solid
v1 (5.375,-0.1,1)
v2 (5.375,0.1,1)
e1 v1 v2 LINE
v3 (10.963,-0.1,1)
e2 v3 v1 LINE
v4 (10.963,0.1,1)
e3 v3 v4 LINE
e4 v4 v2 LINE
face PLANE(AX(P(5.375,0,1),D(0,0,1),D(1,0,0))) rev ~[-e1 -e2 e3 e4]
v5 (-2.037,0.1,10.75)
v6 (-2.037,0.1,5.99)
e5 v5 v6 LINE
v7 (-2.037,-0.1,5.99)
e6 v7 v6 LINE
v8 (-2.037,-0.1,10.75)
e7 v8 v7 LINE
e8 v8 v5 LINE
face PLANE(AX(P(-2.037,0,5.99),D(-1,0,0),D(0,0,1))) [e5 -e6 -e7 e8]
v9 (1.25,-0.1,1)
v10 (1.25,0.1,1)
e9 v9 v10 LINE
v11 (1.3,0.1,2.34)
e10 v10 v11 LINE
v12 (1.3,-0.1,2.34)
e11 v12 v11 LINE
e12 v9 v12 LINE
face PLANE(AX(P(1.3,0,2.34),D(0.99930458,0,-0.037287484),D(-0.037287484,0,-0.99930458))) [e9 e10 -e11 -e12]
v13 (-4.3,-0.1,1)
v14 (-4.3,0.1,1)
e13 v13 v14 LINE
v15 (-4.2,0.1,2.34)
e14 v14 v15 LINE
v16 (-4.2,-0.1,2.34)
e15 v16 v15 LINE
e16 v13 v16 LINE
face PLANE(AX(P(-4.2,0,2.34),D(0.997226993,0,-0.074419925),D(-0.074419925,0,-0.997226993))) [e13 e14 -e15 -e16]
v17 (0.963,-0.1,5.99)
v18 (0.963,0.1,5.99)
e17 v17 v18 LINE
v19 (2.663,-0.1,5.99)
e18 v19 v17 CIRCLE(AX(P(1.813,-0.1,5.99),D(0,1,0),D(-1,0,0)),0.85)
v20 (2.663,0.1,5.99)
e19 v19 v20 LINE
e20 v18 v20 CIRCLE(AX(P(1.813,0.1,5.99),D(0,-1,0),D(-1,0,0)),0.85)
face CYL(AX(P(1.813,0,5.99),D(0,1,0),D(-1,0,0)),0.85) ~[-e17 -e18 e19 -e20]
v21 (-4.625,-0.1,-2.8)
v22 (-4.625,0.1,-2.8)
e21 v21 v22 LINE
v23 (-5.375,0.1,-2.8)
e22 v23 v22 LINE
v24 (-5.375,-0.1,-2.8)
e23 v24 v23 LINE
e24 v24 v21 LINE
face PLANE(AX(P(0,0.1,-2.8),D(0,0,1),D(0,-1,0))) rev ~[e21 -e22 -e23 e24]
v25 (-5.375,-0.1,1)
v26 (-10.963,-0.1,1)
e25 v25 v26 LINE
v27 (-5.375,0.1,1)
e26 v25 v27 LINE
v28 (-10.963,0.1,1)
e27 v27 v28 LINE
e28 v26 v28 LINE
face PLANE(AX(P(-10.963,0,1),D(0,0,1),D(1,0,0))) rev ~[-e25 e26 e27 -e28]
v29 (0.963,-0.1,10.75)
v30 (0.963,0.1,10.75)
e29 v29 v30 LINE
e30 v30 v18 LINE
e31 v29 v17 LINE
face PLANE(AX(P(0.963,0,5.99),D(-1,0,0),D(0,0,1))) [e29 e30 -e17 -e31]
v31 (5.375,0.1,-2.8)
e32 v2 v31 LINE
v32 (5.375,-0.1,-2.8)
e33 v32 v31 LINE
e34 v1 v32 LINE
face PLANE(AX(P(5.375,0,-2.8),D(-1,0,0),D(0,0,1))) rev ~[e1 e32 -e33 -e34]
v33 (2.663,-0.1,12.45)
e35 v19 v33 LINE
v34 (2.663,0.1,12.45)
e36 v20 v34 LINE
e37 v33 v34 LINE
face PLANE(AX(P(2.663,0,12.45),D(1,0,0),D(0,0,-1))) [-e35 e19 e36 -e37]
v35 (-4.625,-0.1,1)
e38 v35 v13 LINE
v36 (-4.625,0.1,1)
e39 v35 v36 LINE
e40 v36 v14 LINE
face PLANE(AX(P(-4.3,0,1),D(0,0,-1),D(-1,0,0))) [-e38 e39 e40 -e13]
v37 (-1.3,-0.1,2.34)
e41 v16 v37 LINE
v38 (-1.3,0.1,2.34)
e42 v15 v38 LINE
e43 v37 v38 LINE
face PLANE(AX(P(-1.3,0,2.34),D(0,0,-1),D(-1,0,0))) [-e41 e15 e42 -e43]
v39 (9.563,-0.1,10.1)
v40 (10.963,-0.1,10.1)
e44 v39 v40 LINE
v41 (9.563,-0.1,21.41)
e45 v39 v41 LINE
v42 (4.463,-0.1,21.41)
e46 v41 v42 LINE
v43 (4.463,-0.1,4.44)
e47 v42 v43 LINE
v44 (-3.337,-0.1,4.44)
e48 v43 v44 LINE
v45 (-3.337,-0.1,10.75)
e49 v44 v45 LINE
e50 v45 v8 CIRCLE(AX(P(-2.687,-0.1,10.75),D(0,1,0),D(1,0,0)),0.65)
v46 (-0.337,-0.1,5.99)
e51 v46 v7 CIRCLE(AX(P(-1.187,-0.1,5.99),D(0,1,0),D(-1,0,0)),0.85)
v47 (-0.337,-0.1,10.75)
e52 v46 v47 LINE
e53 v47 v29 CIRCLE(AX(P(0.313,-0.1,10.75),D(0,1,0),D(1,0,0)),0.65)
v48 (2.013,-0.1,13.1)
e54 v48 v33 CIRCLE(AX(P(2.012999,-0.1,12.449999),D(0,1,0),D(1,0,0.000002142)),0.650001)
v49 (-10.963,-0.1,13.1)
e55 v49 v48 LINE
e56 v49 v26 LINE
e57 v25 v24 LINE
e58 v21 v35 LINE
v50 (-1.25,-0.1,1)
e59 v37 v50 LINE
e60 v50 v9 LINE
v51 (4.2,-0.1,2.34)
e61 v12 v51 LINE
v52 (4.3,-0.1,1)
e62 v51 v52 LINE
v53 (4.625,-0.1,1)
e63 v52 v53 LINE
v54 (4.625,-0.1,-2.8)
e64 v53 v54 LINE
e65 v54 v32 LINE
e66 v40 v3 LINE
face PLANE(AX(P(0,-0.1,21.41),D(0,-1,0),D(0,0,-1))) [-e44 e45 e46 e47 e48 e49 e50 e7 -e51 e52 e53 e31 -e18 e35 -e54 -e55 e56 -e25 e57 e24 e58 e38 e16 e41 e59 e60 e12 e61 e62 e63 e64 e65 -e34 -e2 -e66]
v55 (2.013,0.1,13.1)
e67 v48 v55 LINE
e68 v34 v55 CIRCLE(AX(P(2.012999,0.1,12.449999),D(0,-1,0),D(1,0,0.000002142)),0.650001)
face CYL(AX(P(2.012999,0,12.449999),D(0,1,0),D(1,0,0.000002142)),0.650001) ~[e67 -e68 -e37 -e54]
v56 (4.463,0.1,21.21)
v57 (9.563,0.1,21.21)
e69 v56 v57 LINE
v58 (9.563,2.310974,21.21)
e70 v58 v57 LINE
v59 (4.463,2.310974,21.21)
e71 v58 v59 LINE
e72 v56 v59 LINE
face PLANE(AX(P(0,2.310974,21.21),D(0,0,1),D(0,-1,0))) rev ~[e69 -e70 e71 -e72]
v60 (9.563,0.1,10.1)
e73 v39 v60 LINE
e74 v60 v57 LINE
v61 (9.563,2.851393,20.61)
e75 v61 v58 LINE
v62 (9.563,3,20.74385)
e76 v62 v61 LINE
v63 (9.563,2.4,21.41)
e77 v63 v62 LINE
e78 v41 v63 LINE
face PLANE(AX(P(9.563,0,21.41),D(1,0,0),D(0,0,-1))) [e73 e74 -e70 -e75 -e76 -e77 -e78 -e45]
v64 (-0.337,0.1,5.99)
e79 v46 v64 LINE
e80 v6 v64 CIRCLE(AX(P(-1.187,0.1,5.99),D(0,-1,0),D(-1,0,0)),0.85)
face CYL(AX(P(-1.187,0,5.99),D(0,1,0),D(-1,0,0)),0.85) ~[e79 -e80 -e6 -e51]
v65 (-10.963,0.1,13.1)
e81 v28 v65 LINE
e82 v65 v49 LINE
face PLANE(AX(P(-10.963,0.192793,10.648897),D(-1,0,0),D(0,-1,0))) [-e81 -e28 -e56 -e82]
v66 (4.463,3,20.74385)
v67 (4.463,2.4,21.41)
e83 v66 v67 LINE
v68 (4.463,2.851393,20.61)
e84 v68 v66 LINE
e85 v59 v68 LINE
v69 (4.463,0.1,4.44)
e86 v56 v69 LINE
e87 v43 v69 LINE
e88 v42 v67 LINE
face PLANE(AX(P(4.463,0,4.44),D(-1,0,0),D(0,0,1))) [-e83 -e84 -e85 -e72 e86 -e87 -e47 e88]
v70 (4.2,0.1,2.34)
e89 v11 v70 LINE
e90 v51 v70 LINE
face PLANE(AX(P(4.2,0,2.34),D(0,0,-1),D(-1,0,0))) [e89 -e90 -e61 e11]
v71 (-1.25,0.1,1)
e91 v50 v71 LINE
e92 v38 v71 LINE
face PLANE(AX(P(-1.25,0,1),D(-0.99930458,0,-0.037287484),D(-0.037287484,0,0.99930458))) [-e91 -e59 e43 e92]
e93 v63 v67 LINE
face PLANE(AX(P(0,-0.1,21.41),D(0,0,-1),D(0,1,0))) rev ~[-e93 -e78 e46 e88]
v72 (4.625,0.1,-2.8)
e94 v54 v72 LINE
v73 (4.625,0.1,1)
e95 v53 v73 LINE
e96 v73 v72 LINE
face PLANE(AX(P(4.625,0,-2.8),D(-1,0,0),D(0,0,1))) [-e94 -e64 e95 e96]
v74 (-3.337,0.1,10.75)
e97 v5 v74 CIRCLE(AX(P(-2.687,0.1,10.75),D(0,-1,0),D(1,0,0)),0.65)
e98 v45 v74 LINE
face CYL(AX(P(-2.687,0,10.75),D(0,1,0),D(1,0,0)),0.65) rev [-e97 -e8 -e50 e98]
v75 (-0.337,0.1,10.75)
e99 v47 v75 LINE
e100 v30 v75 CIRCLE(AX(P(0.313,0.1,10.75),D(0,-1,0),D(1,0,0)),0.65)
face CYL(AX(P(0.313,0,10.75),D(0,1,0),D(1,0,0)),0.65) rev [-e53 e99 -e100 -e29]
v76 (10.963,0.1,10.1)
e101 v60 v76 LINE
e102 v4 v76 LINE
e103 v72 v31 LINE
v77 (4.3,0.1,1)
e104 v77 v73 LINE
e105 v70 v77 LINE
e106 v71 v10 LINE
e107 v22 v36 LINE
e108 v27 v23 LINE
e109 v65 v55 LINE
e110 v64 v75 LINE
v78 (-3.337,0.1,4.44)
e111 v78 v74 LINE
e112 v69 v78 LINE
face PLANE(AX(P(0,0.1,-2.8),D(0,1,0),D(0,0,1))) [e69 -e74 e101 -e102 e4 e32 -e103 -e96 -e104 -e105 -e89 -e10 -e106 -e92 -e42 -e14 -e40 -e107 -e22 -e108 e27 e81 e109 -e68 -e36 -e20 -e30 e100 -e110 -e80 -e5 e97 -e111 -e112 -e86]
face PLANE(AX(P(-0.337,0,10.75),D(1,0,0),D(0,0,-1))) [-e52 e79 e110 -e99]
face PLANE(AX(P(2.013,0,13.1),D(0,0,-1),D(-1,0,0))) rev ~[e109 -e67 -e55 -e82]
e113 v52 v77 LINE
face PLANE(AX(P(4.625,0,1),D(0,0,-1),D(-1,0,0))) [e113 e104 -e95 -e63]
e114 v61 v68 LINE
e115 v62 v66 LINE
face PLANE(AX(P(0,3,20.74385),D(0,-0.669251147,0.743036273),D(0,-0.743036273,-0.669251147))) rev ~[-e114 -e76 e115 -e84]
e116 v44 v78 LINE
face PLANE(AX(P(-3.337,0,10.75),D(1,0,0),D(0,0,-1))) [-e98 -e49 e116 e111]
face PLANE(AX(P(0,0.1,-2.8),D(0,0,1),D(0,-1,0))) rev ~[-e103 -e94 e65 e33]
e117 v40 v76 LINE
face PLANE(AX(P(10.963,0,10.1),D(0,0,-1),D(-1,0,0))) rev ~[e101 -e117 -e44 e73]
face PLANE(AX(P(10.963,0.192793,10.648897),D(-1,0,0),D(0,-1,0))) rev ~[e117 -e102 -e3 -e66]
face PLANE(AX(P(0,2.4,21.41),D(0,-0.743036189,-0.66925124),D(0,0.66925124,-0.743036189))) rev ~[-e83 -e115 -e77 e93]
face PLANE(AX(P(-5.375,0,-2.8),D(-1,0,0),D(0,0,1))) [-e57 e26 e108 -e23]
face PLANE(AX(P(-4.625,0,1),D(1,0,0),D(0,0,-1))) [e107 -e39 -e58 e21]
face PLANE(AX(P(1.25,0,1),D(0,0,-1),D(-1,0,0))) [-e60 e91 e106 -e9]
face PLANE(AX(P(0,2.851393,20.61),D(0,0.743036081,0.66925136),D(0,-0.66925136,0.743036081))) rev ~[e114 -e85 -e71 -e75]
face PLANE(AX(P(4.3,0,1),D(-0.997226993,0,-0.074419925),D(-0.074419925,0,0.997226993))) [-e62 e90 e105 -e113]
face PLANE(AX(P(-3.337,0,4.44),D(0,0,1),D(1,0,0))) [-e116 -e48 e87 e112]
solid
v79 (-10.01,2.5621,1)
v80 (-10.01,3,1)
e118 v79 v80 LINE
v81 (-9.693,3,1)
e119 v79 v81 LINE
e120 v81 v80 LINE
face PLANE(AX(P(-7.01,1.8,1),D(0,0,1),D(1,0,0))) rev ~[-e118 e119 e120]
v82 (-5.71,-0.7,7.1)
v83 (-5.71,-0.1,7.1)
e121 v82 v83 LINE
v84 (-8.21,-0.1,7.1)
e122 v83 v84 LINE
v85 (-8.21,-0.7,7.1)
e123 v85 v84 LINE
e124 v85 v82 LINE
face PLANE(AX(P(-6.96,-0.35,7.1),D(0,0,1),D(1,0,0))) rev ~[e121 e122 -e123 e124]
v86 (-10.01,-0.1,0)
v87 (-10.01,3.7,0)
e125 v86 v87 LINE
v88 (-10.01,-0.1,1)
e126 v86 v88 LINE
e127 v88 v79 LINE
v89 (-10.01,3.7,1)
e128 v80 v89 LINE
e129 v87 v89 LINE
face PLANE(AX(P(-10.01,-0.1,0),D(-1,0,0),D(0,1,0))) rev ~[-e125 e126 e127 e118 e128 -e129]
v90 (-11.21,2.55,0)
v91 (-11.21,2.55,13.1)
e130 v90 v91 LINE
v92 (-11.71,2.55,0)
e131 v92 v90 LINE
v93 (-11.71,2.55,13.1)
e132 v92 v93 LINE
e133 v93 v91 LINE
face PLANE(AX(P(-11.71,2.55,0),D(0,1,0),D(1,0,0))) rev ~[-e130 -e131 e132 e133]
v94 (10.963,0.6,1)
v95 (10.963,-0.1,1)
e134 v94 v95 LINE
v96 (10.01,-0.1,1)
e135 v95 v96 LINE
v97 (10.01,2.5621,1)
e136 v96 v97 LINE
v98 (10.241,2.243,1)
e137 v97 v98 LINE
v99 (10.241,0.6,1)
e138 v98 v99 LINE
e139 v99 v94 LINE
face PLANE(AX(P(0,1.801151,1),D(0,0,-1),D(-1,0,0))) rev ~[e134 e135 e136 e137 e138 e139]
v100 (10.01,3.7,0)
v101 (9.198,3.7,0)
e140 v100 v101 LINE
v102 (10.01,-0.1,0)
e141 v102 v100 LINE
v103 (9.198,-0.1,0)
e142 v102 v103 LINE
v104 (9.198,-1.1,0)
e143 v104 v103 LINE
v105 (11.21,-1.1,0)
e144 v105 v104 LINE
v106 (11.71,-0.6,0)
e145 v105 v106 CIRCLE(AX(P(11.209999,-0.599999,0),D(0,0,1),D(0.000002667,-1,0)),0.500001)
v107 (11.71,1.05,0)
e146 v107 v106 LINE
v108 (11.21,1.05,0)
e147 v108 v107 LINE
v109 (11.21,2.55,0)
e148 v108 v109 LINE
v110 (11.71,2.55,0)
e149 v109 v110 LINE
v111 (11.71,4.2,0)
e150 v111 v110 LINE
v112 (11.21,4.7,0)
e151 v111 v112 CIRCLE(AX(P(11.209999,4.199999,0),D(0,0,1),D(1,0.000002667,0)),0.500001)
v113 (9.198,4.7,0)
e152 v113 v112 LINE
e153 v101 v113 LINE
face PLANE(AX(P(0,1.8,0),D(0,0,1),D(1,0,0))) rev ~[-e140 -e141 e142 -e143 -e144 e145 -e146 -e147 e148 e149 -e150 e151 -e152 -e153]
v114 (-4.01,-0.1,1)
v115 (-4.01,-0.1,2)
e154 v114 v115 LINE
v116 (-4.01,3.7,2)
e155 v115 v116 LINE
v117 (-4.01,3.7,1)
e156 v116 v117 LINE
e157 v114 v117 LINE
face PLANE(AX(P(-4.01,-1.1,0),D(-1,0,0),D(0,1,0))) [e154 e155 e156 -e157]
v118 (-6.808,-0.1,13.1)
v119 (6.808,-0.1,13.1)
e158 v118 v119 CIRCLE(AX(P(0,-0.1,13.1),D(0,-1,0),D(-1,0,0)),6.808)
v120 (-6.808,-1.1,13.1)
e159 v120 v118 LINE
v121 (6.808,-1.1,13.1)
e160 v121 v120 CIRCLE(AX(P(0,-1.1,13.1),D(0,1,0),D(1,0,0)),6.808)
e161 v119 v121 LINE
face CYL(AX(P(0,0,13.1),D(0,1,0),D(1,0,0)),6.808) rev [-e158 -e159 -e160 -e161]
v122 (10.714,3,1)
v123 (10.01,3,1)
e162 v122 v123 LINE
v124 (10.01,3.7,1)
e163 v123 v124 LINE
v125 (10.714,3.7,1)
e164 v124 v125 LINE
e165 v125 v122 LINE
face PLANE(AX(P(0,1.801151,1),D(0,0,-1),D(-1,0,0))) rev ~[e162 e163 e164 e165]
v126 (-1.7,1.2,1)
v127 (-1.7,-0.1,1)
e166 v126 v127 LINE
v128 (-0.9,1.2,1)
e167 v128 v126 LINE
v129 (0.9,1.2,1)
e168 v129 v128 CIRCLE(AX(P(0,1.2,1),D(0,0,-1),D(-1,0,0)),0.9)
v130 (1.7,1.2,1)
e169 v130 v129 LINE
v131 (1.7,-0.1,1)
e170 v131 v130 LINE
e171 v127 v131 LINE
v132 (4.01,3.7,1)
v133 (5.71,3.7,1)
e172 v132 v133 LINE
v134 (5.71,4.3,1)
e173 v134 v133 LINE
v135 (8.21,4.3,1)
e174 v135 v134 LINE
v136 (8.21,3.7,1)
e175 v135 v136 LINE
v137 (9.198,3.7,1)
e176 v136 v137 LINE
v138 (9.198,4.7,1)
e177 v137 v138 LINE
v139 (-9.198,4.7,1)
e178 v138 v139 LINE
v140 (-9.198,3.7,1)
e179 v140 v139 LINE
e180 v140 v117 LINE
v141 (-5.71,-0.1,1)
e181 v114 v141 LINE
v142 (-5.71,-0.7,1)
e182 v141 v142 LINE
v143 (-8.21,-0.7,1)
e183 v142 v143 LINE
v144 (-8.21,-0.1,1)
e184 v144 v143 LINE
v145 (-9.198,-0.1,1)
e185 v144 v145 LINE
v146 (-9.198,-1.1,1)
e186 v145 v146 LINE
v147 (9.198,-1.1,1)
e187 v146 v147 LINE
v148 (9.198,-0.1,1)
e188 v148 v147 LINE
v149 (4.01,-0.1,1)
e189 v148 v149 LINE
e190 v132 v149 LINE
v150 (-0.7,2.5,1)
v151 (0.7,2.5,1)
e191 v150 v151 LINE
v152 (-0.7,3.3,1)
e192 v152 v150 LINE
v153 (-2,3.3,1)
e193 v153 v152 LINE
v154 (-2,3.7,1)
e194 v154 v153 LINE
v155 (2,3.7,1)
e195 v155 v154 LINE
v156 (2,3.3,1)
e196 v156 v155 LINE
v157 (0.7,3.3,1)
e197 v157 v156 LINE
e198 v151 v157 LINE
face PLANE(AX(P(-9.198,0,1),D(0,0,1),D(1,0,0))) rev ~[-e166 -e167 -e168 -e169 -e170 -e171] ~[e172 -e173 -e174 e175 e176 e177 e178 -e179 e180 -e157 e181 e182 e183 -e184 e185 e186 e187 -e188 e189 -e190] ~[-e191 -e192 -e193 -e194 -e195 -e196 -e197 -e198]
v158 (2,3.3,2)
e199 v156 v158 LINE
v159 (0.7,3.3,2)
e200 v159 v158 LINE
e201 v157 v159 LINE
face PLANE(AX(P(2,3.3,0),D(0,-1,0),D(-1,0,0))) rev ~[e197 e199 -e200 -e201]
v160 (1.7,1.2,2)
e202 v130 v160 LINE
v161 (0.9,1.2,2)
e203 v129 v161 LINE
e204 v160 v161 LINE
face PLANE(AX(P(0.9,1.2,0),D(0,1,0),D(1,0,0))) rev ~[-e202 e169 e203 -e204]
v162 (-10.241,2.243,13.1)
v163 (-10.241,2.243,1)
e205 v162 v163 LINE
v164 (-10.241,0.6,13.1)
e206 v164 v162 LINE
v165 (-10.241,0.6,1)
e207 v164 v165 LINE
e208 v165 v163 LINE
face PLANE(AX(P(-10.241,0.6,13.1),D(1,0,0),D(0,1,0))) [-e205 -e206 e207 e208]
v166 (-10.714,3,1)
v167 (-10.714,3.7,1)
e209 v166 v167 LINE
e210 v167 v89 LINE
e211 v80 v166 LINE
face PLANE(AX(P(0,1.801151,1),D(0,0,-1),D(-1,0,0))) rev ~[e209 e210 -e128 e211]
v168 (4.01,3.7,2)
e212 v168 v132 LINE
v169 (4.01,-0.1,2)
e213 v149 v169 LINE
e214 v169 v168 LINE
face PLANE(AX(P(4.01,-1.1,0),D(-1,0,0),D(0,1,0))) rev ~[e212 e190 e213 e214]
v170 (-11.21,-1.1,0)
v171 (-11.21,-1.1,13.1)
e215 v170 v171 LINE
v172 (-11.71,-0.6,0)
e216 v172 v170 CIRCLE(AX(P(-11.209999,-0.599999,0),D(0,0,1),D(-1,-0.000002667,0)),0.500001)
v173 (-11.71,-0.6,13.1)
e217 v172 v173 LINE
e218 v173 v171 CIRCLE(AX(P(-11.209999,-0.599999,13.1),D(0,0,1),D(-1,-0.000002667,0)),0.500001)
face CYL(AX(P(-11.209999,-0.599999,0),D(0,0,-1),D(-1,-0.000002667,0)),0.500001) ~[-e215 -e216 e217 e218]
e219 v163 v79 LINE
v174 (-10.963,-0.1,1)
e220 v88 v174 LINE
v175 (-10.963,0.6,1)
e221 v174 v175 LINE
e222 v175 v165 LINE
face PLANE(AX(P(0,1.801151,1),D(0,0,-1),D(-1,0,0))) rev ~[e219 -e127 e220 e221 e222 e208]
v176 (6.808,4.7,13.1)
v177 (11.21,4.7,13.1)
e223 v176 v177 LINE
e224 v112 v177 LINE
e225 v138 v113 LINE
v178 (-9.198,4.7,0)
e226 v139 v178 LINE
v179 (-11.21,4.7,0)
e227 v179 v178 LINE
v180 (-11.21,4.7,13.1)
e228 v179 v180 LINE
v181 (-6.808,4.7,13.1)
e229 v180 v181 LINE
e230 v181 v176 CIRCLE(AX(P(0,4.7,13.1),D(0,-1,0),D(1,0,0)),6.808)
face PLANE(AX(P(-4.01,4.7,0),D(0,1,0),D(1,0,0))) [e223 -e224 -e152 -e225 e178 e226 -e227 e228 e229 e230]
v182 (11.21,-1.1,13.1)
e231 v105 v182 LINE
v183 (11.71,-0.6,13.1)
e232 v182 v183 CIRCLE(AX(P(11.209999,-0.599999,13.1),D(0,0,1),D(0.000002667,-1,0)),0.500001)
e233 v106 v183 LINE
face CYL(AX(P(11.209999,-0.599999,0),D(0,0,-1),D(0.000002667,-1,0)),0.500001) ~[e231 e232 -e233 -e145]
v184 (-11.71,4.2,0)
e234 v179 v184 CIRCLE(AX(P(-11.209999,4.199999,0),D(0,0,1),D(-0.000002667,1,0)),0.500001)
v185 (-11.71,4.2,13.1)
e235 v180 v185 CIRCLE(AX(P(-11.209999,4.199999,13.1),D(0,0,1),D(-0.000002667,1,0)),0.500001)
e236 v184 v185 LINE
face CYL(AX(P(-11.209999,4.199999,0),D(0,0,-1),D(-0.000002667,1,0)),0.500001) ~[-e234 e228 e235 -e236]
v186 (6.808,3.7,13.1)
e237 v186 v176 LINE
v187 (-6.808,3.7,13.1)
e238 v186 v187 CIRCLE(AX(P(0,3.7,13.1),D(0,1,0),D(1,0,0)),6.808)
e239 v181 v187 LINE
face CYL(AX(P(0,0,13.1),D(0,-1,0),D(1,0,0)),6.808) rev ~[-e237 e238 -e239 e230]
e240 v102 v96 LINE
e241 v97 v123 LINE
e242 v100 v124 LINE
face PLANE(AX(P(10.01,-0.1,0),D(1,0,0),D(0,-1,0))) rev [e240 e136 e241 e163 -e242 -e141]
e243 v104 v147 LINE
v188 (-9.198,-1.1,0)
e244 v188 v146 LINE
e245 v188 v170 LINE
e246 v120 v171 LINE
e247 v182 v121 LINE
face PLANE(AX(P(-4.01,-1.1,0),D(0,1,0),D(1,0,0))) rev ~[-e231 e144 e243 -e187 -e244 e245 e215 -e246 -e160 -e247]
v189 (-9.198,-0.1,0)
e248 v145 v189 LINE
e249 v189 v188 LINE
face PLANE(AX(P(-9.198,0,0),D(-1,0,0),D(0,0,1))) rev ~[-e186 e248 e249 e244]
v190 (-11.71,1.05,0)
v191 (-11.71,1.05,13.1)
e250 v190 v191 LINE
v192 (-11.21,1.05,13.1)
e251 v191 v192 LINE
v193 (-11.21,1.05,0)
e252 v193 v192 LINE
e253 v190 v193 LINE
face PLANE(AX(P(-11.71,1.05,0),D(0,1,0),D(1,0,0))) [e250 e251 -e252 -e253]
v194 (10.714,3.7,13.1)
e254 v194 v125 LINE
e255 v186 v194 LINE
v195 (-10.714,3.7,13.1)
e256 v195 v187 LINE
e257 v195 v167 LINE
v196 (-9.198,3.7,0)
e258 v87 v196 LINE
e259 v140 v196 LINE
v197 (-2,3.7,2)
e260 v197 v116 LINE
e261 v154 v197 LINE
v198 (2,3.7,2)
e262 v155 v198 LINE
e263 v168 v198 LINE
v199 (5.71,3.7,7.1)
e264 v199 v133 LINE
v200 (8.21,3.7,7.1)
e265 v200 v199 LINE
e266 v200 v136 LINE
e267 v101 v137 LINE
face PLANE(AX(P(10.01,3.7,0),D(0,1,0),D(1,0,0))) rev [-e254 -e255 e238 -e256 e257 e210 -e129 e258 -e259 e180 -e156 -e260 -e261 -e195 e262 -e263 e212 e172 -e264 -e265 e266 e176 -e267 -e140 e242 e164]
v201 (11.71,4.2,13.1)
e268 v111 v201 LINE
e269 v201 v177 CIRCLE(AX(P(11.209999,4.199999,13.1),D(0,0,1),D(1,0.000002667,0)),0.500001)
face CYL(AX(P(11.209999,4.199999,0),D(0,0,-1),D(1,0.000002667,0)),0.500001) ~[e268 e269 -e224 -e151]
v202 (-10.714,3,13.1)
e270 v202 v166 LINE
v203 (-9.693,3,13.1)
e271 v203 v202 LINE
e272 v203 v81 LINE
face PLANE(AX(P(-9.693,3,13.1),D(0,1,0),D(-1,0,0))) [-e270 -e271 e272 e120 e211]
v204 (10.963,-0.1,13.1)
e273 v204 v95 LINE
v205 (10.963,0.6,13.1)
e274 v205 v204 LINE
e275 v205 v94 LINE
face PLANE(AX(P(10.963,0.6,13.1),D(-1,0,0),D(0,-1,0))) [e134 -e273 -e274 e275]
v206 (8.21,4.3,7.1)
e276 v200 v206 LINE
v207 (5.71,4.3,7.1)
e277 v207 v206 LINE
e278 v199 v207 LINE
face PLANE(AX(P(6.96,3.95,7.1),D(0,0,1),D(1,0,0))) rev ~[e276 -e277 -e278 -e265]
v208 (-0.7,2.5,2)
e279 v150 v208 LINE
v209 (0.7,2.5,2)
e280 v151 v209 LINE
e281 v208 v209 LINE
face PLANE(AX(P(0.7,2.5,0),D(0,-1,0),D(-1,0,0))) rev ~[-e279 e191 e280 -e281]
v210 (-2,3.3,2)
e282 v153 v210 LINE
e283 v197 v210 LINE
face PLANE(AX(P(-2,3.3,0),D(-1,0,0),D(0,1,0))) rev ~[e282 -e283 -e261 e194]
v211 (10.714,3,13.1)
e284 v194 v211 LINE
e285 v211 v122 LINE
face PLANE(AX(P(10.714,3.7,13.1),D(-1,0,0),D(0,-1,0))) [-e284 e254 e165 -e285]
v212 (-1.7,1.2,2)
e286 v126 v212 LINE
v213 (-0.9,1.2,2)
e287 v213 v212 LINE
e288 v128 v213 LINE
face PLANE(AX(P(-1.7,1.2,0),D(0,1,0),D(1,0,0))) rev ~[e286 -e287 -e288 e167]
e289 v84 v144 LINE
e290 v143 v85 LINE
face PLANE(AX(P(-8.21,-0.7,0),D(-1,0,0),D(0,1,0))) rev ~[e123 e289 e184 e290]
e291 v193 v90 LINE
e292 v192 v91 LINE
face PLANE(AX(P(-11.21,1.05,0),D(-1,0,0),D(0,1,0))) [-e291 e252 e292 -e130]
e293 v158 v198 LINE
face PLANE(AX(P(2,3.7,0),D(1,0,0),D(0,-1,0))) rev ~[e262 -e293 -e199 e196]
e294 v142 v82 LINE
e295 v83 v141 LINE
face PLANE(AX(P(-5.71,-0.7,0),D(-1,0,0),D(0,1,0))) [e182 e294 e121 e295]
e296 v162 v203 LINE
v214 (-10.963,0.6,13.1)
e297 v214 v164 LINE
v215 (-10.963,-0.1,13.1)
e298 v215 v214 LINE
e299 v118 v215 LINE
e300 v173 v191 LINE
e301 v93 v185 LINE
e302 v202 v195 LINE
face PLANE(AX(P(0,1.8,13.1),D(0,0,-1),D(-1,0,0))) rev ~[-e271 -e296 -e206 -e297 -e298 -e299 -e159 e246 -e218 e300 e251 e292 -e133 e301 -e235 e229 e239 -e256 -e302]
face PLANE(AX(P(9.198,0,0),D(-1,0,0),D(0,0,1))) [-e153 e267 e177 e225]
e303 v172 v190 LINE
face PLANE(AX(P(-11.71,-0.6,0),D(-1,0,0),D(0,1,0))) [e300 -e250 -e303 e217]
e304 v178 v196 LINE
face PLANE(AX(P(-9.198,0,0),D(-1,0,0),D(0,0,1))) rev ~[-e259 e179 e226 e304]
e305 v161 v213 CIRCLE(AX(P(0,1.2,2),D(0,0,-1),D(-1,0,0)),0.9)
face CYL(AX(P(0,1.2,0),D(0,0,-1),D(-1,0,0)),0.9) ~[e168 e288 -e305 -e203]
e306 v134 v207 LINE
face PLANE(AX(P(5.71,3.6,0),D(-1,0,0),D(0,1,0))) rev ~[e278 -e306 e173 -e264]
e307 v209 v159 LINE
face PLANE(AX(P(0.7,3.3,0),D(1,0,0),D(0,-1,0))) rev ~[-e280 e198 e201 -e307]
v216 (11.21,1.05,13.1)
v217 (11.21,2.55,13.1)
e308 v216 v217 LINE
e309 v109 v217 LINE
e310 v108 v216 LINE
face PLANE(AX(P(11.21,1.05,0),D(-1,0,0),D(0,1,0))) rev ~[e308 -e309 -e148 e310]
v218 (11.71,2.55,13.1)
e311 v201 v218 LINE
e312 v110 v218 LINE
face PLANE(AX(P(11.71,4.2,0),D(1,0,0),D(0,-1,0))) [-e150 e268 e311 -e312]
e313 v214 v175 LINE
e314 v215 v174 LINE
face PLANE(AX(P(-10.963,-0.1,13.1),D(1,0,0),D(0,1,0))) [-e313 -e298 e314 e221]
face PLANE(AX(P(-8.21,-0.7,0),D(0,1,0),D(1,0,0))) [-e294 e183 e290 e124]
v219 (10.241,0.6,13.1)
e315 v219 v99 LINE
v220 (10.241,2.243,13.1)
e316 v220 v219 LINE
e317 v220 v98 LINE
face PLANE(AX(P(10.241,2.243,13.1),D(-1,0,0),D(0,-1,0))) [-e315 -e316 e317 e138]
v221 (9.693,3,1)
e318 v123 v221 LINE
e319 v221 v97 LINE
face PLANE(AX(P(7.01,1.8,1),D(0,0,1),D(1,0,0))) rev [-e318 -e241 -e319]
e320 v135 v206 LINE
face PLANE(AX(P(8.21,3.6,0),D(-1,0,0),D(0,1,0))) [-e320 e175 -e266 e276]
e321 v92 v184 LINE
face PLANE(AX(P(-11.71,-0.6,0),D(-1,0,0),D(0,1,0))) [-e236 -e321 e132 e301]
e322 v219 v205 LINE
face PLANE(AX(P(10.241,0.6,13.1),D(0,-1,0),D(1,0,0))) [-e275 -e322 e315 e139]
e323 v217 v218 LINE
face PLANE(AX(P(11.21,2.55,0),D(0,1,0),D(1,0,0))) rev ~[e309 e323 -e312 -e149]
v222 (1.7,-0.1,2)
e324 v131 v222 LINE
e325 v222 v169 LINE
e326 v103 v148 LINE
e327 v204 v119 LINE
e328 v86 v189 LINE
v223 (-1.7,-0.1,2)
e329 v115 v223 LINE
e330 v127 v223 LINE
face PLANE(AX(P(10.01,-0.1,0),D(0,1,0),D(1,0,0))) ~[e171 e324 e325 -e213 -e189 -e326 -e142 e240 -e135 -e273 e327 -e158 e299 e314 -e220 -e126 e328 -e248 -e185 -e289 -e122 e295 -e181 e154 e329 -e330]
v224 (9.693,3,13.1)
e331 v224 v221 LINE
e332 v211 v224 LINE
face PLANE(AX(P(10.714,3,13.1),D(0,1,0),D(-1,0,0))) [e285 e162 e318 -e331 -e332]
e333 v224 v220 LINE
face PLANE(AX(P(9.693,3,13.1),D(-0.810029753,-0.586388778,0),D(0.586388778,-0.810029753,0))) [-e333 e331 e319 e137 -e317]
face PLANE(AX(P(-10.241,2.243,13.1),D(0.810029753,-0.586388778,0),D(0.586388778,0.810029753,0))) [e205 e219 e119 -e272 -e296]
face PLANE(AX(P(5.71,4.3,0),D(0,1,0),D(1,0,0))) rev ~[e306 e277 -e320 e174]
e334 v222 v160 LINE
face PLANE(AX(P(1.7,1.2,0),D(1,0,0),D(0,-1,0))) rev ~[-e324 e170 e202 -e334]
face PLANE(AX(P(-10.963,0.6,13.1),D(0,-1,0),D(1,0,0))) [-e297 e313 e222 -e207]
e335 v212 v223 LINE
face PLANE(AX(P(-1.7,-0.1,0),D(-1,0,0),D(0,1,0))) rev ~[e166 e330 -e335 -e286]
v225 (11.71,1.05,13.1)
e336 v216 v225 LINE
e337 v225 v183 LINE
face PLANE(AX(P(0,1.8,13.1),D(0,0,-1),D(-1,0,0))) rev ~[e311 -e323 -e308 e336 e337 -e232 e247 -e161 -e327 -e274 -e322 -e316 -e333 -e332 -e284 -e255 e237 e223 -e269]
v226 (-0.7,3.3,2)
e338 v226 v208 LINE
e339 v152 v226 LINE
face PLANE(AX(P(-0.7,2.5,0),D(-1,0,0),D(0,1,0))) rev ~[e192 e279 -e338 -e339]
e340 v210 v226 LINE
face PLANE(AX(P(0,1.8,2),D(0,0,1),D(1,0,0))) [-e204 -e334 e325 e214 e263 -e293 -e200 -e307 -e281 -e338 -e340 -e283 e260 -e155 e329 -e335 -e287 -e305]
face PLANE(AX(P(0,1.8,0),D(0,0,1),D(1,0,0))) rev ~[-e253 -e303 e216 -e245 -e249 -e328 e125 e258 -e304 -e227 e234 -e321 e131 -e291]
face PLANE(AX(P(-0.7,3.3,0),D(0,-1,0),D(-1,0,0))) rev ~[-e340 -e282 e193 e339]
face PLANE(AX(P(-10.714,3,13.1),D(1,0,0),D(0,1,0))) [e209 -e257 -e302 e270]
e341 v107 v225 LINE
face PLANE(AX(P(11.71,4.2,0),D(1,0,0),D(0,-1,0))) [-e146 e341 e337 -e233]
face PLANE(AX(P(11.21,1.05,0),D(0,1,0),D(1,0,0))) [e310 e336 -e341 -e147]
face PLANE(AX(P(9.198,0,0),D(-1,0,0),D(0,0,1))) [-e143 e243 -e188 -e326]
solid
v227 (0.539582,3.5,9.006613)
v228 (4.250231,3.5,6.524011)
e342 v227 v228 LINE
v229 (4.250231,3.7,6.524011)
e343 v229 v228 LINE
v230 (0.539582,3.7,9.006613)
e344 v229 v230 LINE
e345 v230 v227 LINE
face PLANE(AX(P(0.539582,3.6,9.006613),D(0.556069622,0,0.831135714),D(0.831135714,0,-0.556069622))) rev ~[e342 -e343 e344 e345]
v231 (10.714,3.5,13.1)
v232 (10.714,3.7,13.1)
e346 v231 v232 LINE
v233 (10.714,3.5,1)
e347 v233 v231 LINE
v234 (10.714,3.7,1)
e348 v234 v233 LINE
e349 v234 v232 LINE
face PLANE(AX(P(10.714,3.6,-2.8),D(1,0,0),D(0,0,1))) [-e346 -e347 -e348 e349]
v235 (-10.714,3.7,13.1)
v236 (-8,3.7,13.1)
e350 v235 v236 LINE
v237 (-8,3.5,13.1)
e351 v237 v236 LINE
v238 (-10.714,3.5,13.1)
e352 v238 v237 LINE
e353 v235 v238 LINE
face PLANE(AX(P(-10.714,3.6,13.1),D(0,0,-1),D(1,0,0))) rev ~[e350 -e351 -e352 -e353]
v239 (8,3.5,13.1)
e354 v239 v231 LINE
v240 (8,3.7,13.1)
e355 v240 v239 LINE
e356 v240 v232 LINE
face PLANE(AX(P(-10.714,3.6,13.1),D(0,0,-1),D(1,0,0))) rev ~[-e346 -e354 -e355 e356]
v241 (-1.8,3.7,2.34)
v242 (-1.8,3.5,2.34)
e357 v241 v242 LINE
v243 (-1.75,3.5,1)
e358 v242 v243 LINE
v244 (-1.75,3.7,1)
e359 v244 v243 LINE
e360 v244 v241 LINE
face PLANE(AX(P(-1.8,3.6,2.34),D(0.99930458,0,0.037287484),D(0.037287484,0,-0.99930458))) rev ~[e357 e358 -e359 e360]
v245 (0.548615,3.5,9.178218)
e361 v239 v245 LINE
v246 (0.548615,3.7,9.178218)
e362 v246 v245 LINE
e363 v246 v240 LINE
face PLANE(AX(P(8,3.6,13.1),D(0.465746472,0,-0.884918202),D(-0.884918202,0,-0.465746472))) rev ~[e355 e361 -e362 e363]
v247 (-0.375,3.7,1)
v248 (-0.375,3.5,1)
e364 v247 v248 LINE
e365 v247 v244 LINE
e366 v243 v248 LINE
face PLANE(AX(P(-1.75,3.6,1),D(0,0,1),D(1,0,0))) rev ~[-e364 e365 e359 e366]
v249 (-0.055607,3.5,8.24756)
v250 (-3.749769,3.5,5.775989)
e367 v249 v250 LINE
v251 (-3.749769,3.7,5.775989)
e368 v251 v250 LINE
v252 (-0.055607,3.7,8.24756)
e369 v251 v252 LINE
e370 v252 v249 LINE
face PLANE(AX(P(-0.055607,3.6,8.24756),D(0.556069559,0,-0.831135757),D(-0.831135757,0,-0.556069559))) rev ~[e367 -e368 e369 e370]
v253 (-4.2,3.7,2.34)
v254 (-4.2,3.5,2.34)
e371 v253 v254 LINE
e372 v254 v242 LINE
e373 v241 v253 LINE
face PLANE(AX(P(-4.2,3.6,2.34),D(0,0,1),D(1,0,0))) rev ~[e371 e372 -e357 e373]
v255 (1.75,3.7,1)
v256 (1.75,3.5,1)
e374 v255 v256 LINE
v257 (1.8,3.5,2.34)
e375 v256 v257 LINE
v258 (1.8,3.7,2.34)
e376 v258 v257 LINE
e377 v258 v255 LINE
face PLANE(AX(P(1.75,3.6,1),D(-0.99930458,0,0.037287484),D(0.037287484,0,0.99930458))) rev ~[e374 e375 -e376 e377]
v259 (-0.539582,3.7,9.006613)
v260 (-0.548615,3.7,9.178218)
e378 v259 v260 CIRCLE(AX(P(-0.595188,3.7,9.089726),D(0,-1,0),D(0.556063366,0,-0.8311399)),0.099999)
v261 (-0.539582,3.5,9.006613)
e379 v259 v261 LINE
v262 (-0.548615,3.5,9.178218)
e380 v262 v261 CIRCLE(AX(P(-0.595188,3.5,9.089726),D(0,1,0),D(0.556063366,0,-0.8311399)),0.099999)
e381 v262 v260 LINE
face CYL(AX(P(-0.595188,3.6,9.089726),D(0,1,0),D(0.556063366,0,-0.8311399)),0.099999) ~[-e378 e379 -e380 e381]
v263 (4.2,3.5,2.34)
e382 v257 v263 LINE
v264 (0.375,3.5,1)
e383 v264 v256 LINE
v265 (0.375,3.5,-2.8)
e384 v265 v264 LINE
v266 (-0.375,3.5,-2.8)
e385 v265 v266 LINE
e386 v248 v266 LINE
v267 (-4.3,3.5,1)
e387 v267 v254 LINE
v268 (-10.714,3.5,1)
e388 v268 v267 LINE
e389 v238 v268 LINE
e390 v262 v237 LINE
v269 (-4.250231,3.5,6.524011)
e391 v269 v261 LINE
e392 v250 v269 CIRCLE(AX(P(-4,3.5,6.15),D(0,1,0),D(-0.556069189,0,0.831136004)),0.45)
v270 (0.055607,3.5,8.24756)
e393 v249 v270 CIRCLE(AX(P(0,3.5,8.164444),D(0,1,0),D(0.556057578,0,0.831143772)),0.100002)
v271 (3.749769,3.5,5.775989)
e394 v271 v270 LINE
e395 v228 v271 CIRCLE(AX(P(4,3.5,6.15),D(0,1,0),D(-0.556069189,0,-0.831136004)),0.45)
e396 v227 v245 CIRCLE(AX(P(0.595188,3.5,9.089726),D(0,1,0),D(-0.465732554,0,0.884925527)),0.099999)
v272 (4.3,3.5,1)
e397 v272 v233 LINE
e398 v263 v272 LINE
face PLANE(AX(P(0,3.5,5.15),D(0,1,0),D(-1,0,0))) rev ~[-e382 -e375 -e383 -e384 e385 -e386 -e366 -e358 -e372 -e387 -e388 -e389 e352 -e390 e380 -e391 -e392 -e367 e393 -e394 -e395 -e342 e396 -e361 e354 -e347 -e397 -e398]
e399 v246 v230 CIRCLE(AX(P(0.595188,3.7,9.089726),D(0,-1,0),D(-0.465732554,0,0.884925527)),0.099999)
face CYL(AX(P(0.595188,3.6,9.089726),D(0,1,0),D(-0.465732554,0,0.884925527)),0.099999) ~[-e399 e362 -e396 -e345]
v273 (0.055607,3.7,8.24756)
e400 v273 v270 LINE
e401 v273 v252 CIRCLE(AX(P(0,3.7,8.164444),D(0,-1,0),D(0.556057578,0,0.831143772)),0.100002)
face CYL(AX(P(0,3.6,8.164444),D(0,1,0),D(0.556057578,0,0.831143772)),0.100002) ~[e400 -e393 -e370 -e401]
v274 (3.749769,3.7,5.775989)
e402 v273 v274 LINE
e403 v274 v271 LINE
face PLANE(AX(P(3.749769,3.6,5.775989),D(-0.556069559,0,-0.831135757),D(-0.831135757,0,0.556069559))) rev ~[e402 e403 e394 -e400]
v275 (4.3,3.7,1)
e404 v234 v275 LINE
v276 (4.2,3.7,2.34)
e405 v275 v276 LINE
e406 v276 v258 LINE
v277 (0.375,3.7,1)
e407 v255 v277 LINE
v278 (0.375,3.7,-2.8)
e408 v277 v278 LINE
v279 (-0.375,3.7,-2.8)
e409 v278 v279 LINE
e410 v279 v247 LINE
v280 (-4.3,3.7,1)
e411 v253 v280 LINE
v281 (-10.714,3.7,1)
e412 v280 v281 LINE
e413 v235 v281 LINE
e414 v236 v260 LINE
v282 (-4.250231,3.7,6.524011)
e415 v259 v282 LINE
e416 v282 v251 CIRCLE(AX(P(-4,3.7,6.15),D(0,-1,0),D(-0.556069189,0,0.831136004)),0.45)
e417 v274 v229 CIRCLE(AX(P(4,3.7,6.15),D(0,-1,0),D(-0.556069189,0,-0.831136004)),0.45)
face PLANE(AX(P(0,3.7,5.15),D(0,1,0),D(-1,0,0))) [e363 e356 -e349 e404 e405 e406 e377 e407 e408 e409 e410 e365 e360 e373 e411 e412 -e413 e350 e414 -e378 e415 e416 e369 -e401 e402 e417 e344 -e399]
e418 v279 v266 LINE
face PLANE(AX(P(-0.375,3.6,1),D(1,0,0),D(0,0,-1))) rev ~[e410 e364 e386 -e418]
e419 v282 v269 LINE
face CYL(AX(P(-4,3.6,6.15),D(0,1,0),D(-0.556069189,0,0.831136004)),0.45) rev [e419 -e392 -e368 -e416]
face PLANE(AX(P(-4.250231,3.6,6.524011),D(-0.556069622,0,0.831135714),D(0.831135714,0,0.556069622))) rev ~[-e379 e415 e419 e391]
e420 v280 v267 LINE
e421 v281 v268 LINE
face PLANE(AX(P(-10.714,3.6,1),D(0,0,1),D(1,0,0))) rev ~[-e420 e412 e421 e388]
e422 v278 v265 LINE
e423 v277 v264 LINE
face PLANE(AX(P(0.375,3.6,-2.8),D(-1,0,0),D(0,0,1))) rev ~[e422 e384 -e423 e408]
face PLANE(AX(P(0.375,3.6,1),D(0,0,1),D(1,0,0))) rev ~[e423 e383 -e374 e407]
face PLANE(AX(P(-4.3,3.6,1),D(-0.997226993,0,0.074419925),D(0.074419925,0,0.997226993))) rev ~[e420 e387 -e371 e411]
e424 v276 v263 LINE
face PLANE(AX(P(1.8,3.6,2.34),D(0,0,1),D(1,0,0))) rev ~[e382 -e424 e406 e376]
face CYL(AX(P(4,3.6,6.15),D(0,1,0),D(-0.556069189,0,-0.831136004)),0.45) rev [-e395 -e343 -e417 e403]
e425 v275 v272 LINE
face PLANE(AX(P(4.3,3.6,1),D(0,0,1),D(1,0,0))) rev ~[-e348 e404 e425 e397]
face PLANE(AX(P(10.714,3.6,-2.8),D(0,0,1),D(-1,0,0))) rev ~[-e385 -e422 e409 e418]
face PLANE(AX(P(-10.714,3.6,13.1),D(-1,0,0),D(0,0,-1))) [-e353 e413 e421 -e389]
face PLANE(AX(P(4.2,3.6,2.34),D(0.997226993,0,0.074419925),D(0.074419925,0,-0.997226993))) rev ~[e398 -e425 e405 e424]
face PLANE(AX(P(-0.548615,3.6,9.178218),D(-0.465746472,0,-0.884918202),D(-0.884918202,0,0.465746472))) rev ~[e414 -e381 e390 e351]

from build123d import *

# Parameters (mm, degrees)
PAD_DEPTH            = 13.1
POCKET_DEPTH         = 12.1
SKETCH010_W          = 8.02
SKETCH010_H          = 5.8
PAD001_DEPTH         = 2
SKETCH002_R          = 6.808
SKETCH002_W          = 18.396
SKETCH002_H          = 1
POCKET001_DEPTH      = 4.701
POCKET001_DEPTH_BACK = -1.101
SKETCH003_W          = 6
SKETCH003_H          = 3.8
POCKET002_DEPTH      = 1
SKETCH009_W          = 0.5
SKETCH009_H          = 1.5
POCKET003_DEPTH      = 0.001
POCKET003_DEPTH_BACK = -13.101
SKETCH011_W          = 2.5
SKETCH011_H          = 0.7
POCKET004_DEPTH      = 7.1
PAD002_DEPTH         = 10.963
PAD002_DEPTH_BACK    = 10.963
SKETCH004_W          = 5.588
SKETCH004_H          = 3.8
POCKET005_DEPTH      = 3.001
POCKET005_DEPTH_BACK = -0.101
PAD003_DEPTH         = 0.1
PAD003_DEPTH_BACK    = 0.1
POCKET006_DEPTH      = 0.101
POCKET006_DEPTH_BACK = -0.101


with BuildPart() as pkg:
    # Sketch → Pad (new body)
    with BuildSketch(Plane.XY):
        with BuildLine():
            Line((11.71, 4.2), (11.71, -0.6))
            ThreePointArc((11.21, -1.1), (11.563553, -0.953553), (11.71, -0.6))
            Line((11.21, -1.1), (-11.21, -1.1))
            ThreePointArc((-11.71, -0.6), (-11.563553, -0.953553), (-11.21, -1.1))
            Line((-11.71, -0.6), (-11.71, 4.2))
            ThreePointArc((-11.21, 4.7), (-11.563553, 4.553553), (-11.71, 4.2))
            Line((-11.21, 4.7), (0, 4.7))
            Line((0, 4.7), (11.21, 4.7))
            ThreePointArc((11.71, 4.2), (11.563553, 4.553553), (11.21, 4.7))
        make_face()
    extrude(amount=PAD_DEPTH)

    # Sketch001 (on DatumPlane) → Pocket (cut)
    with BuildSketch(Plane.XY.offset(13.1)):
        Polygon((-10.714, 3.7), (10.714, 3.7), (10.714, 3), (9.693, 3), (10.241, 2.243), (10.241, 0.6), (10.963, 0.6), (10.963, -0.1), (-10.963, -0.1), (-10.963, 0.6), (-10.241, 0.6), (-10.241, 2.243), (-9.693, 3), (-10.714, 3), align=None)
    extrude(amount=-POCKET_DEPTH, mode=Mode.SUBTRACT)

    # Sketch010 → Pad001 (join)
    with BuildSketch(Plane.XY):
        with Locations((0, 1.8)):
            Rectangle(SKETCH010_W, SKETCH010_H)
    extrude(amount=PAD001_DEPTH)

    # Sketch002 → Pocket001 (cut, two sides)
    with BuildSketch(Plane.XZ) as pocket001_sk:
        with Locations((0, 13.1)):
            Circle(SKETCH002_R)
        with Locations((0, 0.5)):
            Rectangle(SKETCH002_W, SKETCH002_H)
    extrude(amount=-POCKET001_DEPTH, mode=Mode.SUBTRACT)
    extrude(pocket001_sk.sketch, amount=-POCKET001_DEPTH_BACK, mode=Mode.SUBTRACT)

    # Sketch003 → Pocket002 (cut)
    with BuildSketch(Plane.XY):
        with Locations((-7.01, 1.8)):
            Rectangle(SKETCH003_W, SKETCH003_H)
    pocket002 = extrude(amount=POCKET002_DEPTH, mode=Mode.SUBTRACT)

    # Mirrored: Pocket002 across Sketch003 V_Axis
    add(pocket002.mirror(Plane(origin=(0, 0, 0), x_dir=(0, 0, 1), z_dir=(1, 0, 0))), mode=Mode.SUBTRACT)

    # Sketch009 → Pocket003 (cut, two sides)
    with BuildSketch(Plane.XY) as pocket003_sk:
        with BuildLine():
            Line((0.9, 1.2), (1.7, 1.2))
            Line((1.7, 1.2), (1.7, -0.1))
            Line((1.7, -0.1), (-1.7, -0.1))
            Line((-1.7, -0.1), (-1.7, 1.2))
            Line((-1.7, 1.2), (-0.9, 1.2))
            ThreePointArc((-0.9, 1.2), (0, 0.3), (0.9, 1.2))
        make_face()
        Polygon((2, 3.7), (2, 3.3), (0.7, 3.3), (0.7, 2.5), (-0.7, 2.5), (-0.7, 3.3), (-2, 3.3), (-2, 3.7), align=None)
        with Locations((-11.46, 1.8)):
            Rectangle(SKETCH009_W, SKETCH009_H)
        with Locations((11.46, 1.8)):
            Rectangle(SKETCH009_W, SKETCH009_H)
    extrude(amount=-POCKET003_DEPTH, mode=Mode.SUBTRACT)
    extrude(pocket003_sk.sketch, amount=-POCKET003_DEPTH_BACK, mode=Mode.SUBTRACT)

    # Sketch011 → Pocket004 (cut)
    with BuildSketch(Plane.XY):
        with Locations((-6.96, -0.35)):
            Rectangle(SKETCH011_W, SKETCH011_H)
        with Locations((6.96, 3.95)):
            Rectangle(SKETCH011_W, SKETCH011_H)
    extrude(amount=POCKET004_DEPTH, mode=Mode.SUBTRACT)


with BuildPart() as pos:
    # Sketch005 → Pad002 (new body, two sides)
    with BuildSketch(Plane.YZ) as pad002_sk:
        Polygon((-0.1, 13.1), (-0.1, 21.41), (2.4, 21.41), (3, 20.74385), (2.851393, 20.61), (2.310974, 21.21), (0.1, 21.21), (0.1, 13.1), (0.1, 0), (0.1, -2.8), (-0.1, -2.8), (-0.1, 0), align=None)
    extrude(amount=PAD002_DEPTH)
    extrude(pad002_sk.sketch, amount=-PAD002_DEPTH_BACK)

    # Sketch004 → Pocket005 (cut, two sides)
    with BuildSketch(Plane.XZ) as pocket005_sk:
        with Locations((-8.169, -0.9)):
            Rectangle(SKETCH004_W, SKETCH004_H)
        with Locations((8.169, -0.9)):
            Rectangle(SKETCH004_W, SKETCH004_H)
        Polygon((4.625, -2.8), (4.625, 1), (4.3, 1), (4.2, 2.34), (1.3, 2.34), (1.25, 1), (-1.25, 1), (-1.3, 2.34), (-4.2, 2.34), (-4.3, 1), (-4.625, 1), (-4.625, -2.8), align=None)
        with BuildLine():
            Line((2.663, 12.45), (2.663, 5.99))
            ThreePointArc((0.963, 5.99), (1.813, 5.14), (2.663, 5.99))
            Line((0.963, 5.99), (0.963, 10.75))
            ThreePointArc((0.963, 10.75), (0.313, 11.4), (-0.337, 10.75))
            Line((-0.337, 10.75), (-0.337, 5.99))
            ThreePointArc((-2.037, 5.99), (-1.187, 5.14), (-0.337, 5.99))
            Line((-2.037, 5.99), (-2.037, 10.75))
            ThreePointArc((-2.037, 10.75), (-2.687, 11.4), (-3.337, 10.75))
            Line((-3.337, 10.75), (-3.337, 4.44))
            Line((-3.337, 4.44), (4.463, 4.44))
            Line((4.463, 4.44), (4.463, 13.1))
            Line((4.463, 21.41), (4.463, 13.1))
            Line((-10.963, 21.41), (4.463, 21.41))
            Line((-10.963, 13.1), (-10.963, 21.41))
            Line((2.013, 13.1), (-10.963, 13.1))
            ThreePointArc((2.663, 12.45), (2.472619, 12.909619), (2.013, 13.1))
        make_face()
        Polygon((10.963, 13.1), (10.963, 10.1), (9.563, 10.1), (9.563, 13.1), (9.563, 21.41), (10.963, 21.41), align=None)
    extrude(amount=-POCKET005_DEPTH, mode=Mode.SUBTRACT)
    extrude(pocket005_sk.sketch, amount=-POCKET005_DEPTH_BACK, mode=Mode.SUBTRACT)


with BuildPart() as neg:
    # Sketch012 (on DatumPlane) → Pad003 (new body, two sides)
    with BuildSketch(Plane.XZ.offset(-3.6)) as pad003_sk:
        Polygon((-10.714, 13.1), (10.714, 13.1), (10.714, 0), (10.714, -2.8), (-10.714, -2.8), (-10.714, 0), align=None)
    extrude(amount=PAD003_DEPTH)
    extrude(pad003_sk.sketch, amount=-PAD003_DEPTH_BACK)

    # Sketch007 (on DatumPlane) → Pocket006 (cut, two sides)
    with BuildSketch(Plane.XZ.offset(-3.6)) as pocket006_sk:
        Polygon((-10.714, 1), (-4.3, 1), (-4.2, 2.34), (-1.8, 2.34), (-1.75, 1), (-0.375, 1), (-0.375, -2.8), (-10.714, -2.8), align=None)
        Polygon((0.375, -2.8), (0.375, 1), (1.75, 1), (1.8, 2.34), (4.2, 2.34), (4.3, 1), (10.714, 1), (10.714, -2.8), align=None)
        with BuildLine():
            Line((8, 13.1), (0.548615, 9.178218))
            ThreePointArc((0.548615, 9.178218), (0.495327, 9.094983), (0.539582, 9.006613))
            Line((0.539582, 9.006613), (4.250231, 6.524011))
            ThreePointArc((3.749769, 5.775989), (4.374011, 5.899769), (4.250231, 6.524011))
            Line((3.749769, 5.775989), (0.055607, 8.24756))
            ThreePointArc((0.055607, 8.24756), (0, 8.264446), (-0.055607, 8.24756))
            Line((-0.055607, 8.24756), (-3.749769, 5.775989))
            ThreePointArc((-4.250231, 6.524011), (-4.374011, 5.899769), (-3.749769, 5.775989))
            Line((-4.250231, 6.524011), (-0.539582, 9.006613))
            ThreePointArc((-0.539582, 9.006613), (-0.495327, 9.094983), (-0.548615, 9.178218))
            Line((-0.548615, 9.178218), (-8, 13.1))
            Line((-8, 13.1), (8, 13.1))
        make_face()
    extrude(amount=-POCKET006_DEPTH, mode=Mode.SUBTRACT)
    extrude(pocket006_sk.sketch, amount=-POCKET006_DEPTH_BACK, mode=Mode.SUBTRACT)


solid = Compound([pkg.part, pos.part, neg.part])
